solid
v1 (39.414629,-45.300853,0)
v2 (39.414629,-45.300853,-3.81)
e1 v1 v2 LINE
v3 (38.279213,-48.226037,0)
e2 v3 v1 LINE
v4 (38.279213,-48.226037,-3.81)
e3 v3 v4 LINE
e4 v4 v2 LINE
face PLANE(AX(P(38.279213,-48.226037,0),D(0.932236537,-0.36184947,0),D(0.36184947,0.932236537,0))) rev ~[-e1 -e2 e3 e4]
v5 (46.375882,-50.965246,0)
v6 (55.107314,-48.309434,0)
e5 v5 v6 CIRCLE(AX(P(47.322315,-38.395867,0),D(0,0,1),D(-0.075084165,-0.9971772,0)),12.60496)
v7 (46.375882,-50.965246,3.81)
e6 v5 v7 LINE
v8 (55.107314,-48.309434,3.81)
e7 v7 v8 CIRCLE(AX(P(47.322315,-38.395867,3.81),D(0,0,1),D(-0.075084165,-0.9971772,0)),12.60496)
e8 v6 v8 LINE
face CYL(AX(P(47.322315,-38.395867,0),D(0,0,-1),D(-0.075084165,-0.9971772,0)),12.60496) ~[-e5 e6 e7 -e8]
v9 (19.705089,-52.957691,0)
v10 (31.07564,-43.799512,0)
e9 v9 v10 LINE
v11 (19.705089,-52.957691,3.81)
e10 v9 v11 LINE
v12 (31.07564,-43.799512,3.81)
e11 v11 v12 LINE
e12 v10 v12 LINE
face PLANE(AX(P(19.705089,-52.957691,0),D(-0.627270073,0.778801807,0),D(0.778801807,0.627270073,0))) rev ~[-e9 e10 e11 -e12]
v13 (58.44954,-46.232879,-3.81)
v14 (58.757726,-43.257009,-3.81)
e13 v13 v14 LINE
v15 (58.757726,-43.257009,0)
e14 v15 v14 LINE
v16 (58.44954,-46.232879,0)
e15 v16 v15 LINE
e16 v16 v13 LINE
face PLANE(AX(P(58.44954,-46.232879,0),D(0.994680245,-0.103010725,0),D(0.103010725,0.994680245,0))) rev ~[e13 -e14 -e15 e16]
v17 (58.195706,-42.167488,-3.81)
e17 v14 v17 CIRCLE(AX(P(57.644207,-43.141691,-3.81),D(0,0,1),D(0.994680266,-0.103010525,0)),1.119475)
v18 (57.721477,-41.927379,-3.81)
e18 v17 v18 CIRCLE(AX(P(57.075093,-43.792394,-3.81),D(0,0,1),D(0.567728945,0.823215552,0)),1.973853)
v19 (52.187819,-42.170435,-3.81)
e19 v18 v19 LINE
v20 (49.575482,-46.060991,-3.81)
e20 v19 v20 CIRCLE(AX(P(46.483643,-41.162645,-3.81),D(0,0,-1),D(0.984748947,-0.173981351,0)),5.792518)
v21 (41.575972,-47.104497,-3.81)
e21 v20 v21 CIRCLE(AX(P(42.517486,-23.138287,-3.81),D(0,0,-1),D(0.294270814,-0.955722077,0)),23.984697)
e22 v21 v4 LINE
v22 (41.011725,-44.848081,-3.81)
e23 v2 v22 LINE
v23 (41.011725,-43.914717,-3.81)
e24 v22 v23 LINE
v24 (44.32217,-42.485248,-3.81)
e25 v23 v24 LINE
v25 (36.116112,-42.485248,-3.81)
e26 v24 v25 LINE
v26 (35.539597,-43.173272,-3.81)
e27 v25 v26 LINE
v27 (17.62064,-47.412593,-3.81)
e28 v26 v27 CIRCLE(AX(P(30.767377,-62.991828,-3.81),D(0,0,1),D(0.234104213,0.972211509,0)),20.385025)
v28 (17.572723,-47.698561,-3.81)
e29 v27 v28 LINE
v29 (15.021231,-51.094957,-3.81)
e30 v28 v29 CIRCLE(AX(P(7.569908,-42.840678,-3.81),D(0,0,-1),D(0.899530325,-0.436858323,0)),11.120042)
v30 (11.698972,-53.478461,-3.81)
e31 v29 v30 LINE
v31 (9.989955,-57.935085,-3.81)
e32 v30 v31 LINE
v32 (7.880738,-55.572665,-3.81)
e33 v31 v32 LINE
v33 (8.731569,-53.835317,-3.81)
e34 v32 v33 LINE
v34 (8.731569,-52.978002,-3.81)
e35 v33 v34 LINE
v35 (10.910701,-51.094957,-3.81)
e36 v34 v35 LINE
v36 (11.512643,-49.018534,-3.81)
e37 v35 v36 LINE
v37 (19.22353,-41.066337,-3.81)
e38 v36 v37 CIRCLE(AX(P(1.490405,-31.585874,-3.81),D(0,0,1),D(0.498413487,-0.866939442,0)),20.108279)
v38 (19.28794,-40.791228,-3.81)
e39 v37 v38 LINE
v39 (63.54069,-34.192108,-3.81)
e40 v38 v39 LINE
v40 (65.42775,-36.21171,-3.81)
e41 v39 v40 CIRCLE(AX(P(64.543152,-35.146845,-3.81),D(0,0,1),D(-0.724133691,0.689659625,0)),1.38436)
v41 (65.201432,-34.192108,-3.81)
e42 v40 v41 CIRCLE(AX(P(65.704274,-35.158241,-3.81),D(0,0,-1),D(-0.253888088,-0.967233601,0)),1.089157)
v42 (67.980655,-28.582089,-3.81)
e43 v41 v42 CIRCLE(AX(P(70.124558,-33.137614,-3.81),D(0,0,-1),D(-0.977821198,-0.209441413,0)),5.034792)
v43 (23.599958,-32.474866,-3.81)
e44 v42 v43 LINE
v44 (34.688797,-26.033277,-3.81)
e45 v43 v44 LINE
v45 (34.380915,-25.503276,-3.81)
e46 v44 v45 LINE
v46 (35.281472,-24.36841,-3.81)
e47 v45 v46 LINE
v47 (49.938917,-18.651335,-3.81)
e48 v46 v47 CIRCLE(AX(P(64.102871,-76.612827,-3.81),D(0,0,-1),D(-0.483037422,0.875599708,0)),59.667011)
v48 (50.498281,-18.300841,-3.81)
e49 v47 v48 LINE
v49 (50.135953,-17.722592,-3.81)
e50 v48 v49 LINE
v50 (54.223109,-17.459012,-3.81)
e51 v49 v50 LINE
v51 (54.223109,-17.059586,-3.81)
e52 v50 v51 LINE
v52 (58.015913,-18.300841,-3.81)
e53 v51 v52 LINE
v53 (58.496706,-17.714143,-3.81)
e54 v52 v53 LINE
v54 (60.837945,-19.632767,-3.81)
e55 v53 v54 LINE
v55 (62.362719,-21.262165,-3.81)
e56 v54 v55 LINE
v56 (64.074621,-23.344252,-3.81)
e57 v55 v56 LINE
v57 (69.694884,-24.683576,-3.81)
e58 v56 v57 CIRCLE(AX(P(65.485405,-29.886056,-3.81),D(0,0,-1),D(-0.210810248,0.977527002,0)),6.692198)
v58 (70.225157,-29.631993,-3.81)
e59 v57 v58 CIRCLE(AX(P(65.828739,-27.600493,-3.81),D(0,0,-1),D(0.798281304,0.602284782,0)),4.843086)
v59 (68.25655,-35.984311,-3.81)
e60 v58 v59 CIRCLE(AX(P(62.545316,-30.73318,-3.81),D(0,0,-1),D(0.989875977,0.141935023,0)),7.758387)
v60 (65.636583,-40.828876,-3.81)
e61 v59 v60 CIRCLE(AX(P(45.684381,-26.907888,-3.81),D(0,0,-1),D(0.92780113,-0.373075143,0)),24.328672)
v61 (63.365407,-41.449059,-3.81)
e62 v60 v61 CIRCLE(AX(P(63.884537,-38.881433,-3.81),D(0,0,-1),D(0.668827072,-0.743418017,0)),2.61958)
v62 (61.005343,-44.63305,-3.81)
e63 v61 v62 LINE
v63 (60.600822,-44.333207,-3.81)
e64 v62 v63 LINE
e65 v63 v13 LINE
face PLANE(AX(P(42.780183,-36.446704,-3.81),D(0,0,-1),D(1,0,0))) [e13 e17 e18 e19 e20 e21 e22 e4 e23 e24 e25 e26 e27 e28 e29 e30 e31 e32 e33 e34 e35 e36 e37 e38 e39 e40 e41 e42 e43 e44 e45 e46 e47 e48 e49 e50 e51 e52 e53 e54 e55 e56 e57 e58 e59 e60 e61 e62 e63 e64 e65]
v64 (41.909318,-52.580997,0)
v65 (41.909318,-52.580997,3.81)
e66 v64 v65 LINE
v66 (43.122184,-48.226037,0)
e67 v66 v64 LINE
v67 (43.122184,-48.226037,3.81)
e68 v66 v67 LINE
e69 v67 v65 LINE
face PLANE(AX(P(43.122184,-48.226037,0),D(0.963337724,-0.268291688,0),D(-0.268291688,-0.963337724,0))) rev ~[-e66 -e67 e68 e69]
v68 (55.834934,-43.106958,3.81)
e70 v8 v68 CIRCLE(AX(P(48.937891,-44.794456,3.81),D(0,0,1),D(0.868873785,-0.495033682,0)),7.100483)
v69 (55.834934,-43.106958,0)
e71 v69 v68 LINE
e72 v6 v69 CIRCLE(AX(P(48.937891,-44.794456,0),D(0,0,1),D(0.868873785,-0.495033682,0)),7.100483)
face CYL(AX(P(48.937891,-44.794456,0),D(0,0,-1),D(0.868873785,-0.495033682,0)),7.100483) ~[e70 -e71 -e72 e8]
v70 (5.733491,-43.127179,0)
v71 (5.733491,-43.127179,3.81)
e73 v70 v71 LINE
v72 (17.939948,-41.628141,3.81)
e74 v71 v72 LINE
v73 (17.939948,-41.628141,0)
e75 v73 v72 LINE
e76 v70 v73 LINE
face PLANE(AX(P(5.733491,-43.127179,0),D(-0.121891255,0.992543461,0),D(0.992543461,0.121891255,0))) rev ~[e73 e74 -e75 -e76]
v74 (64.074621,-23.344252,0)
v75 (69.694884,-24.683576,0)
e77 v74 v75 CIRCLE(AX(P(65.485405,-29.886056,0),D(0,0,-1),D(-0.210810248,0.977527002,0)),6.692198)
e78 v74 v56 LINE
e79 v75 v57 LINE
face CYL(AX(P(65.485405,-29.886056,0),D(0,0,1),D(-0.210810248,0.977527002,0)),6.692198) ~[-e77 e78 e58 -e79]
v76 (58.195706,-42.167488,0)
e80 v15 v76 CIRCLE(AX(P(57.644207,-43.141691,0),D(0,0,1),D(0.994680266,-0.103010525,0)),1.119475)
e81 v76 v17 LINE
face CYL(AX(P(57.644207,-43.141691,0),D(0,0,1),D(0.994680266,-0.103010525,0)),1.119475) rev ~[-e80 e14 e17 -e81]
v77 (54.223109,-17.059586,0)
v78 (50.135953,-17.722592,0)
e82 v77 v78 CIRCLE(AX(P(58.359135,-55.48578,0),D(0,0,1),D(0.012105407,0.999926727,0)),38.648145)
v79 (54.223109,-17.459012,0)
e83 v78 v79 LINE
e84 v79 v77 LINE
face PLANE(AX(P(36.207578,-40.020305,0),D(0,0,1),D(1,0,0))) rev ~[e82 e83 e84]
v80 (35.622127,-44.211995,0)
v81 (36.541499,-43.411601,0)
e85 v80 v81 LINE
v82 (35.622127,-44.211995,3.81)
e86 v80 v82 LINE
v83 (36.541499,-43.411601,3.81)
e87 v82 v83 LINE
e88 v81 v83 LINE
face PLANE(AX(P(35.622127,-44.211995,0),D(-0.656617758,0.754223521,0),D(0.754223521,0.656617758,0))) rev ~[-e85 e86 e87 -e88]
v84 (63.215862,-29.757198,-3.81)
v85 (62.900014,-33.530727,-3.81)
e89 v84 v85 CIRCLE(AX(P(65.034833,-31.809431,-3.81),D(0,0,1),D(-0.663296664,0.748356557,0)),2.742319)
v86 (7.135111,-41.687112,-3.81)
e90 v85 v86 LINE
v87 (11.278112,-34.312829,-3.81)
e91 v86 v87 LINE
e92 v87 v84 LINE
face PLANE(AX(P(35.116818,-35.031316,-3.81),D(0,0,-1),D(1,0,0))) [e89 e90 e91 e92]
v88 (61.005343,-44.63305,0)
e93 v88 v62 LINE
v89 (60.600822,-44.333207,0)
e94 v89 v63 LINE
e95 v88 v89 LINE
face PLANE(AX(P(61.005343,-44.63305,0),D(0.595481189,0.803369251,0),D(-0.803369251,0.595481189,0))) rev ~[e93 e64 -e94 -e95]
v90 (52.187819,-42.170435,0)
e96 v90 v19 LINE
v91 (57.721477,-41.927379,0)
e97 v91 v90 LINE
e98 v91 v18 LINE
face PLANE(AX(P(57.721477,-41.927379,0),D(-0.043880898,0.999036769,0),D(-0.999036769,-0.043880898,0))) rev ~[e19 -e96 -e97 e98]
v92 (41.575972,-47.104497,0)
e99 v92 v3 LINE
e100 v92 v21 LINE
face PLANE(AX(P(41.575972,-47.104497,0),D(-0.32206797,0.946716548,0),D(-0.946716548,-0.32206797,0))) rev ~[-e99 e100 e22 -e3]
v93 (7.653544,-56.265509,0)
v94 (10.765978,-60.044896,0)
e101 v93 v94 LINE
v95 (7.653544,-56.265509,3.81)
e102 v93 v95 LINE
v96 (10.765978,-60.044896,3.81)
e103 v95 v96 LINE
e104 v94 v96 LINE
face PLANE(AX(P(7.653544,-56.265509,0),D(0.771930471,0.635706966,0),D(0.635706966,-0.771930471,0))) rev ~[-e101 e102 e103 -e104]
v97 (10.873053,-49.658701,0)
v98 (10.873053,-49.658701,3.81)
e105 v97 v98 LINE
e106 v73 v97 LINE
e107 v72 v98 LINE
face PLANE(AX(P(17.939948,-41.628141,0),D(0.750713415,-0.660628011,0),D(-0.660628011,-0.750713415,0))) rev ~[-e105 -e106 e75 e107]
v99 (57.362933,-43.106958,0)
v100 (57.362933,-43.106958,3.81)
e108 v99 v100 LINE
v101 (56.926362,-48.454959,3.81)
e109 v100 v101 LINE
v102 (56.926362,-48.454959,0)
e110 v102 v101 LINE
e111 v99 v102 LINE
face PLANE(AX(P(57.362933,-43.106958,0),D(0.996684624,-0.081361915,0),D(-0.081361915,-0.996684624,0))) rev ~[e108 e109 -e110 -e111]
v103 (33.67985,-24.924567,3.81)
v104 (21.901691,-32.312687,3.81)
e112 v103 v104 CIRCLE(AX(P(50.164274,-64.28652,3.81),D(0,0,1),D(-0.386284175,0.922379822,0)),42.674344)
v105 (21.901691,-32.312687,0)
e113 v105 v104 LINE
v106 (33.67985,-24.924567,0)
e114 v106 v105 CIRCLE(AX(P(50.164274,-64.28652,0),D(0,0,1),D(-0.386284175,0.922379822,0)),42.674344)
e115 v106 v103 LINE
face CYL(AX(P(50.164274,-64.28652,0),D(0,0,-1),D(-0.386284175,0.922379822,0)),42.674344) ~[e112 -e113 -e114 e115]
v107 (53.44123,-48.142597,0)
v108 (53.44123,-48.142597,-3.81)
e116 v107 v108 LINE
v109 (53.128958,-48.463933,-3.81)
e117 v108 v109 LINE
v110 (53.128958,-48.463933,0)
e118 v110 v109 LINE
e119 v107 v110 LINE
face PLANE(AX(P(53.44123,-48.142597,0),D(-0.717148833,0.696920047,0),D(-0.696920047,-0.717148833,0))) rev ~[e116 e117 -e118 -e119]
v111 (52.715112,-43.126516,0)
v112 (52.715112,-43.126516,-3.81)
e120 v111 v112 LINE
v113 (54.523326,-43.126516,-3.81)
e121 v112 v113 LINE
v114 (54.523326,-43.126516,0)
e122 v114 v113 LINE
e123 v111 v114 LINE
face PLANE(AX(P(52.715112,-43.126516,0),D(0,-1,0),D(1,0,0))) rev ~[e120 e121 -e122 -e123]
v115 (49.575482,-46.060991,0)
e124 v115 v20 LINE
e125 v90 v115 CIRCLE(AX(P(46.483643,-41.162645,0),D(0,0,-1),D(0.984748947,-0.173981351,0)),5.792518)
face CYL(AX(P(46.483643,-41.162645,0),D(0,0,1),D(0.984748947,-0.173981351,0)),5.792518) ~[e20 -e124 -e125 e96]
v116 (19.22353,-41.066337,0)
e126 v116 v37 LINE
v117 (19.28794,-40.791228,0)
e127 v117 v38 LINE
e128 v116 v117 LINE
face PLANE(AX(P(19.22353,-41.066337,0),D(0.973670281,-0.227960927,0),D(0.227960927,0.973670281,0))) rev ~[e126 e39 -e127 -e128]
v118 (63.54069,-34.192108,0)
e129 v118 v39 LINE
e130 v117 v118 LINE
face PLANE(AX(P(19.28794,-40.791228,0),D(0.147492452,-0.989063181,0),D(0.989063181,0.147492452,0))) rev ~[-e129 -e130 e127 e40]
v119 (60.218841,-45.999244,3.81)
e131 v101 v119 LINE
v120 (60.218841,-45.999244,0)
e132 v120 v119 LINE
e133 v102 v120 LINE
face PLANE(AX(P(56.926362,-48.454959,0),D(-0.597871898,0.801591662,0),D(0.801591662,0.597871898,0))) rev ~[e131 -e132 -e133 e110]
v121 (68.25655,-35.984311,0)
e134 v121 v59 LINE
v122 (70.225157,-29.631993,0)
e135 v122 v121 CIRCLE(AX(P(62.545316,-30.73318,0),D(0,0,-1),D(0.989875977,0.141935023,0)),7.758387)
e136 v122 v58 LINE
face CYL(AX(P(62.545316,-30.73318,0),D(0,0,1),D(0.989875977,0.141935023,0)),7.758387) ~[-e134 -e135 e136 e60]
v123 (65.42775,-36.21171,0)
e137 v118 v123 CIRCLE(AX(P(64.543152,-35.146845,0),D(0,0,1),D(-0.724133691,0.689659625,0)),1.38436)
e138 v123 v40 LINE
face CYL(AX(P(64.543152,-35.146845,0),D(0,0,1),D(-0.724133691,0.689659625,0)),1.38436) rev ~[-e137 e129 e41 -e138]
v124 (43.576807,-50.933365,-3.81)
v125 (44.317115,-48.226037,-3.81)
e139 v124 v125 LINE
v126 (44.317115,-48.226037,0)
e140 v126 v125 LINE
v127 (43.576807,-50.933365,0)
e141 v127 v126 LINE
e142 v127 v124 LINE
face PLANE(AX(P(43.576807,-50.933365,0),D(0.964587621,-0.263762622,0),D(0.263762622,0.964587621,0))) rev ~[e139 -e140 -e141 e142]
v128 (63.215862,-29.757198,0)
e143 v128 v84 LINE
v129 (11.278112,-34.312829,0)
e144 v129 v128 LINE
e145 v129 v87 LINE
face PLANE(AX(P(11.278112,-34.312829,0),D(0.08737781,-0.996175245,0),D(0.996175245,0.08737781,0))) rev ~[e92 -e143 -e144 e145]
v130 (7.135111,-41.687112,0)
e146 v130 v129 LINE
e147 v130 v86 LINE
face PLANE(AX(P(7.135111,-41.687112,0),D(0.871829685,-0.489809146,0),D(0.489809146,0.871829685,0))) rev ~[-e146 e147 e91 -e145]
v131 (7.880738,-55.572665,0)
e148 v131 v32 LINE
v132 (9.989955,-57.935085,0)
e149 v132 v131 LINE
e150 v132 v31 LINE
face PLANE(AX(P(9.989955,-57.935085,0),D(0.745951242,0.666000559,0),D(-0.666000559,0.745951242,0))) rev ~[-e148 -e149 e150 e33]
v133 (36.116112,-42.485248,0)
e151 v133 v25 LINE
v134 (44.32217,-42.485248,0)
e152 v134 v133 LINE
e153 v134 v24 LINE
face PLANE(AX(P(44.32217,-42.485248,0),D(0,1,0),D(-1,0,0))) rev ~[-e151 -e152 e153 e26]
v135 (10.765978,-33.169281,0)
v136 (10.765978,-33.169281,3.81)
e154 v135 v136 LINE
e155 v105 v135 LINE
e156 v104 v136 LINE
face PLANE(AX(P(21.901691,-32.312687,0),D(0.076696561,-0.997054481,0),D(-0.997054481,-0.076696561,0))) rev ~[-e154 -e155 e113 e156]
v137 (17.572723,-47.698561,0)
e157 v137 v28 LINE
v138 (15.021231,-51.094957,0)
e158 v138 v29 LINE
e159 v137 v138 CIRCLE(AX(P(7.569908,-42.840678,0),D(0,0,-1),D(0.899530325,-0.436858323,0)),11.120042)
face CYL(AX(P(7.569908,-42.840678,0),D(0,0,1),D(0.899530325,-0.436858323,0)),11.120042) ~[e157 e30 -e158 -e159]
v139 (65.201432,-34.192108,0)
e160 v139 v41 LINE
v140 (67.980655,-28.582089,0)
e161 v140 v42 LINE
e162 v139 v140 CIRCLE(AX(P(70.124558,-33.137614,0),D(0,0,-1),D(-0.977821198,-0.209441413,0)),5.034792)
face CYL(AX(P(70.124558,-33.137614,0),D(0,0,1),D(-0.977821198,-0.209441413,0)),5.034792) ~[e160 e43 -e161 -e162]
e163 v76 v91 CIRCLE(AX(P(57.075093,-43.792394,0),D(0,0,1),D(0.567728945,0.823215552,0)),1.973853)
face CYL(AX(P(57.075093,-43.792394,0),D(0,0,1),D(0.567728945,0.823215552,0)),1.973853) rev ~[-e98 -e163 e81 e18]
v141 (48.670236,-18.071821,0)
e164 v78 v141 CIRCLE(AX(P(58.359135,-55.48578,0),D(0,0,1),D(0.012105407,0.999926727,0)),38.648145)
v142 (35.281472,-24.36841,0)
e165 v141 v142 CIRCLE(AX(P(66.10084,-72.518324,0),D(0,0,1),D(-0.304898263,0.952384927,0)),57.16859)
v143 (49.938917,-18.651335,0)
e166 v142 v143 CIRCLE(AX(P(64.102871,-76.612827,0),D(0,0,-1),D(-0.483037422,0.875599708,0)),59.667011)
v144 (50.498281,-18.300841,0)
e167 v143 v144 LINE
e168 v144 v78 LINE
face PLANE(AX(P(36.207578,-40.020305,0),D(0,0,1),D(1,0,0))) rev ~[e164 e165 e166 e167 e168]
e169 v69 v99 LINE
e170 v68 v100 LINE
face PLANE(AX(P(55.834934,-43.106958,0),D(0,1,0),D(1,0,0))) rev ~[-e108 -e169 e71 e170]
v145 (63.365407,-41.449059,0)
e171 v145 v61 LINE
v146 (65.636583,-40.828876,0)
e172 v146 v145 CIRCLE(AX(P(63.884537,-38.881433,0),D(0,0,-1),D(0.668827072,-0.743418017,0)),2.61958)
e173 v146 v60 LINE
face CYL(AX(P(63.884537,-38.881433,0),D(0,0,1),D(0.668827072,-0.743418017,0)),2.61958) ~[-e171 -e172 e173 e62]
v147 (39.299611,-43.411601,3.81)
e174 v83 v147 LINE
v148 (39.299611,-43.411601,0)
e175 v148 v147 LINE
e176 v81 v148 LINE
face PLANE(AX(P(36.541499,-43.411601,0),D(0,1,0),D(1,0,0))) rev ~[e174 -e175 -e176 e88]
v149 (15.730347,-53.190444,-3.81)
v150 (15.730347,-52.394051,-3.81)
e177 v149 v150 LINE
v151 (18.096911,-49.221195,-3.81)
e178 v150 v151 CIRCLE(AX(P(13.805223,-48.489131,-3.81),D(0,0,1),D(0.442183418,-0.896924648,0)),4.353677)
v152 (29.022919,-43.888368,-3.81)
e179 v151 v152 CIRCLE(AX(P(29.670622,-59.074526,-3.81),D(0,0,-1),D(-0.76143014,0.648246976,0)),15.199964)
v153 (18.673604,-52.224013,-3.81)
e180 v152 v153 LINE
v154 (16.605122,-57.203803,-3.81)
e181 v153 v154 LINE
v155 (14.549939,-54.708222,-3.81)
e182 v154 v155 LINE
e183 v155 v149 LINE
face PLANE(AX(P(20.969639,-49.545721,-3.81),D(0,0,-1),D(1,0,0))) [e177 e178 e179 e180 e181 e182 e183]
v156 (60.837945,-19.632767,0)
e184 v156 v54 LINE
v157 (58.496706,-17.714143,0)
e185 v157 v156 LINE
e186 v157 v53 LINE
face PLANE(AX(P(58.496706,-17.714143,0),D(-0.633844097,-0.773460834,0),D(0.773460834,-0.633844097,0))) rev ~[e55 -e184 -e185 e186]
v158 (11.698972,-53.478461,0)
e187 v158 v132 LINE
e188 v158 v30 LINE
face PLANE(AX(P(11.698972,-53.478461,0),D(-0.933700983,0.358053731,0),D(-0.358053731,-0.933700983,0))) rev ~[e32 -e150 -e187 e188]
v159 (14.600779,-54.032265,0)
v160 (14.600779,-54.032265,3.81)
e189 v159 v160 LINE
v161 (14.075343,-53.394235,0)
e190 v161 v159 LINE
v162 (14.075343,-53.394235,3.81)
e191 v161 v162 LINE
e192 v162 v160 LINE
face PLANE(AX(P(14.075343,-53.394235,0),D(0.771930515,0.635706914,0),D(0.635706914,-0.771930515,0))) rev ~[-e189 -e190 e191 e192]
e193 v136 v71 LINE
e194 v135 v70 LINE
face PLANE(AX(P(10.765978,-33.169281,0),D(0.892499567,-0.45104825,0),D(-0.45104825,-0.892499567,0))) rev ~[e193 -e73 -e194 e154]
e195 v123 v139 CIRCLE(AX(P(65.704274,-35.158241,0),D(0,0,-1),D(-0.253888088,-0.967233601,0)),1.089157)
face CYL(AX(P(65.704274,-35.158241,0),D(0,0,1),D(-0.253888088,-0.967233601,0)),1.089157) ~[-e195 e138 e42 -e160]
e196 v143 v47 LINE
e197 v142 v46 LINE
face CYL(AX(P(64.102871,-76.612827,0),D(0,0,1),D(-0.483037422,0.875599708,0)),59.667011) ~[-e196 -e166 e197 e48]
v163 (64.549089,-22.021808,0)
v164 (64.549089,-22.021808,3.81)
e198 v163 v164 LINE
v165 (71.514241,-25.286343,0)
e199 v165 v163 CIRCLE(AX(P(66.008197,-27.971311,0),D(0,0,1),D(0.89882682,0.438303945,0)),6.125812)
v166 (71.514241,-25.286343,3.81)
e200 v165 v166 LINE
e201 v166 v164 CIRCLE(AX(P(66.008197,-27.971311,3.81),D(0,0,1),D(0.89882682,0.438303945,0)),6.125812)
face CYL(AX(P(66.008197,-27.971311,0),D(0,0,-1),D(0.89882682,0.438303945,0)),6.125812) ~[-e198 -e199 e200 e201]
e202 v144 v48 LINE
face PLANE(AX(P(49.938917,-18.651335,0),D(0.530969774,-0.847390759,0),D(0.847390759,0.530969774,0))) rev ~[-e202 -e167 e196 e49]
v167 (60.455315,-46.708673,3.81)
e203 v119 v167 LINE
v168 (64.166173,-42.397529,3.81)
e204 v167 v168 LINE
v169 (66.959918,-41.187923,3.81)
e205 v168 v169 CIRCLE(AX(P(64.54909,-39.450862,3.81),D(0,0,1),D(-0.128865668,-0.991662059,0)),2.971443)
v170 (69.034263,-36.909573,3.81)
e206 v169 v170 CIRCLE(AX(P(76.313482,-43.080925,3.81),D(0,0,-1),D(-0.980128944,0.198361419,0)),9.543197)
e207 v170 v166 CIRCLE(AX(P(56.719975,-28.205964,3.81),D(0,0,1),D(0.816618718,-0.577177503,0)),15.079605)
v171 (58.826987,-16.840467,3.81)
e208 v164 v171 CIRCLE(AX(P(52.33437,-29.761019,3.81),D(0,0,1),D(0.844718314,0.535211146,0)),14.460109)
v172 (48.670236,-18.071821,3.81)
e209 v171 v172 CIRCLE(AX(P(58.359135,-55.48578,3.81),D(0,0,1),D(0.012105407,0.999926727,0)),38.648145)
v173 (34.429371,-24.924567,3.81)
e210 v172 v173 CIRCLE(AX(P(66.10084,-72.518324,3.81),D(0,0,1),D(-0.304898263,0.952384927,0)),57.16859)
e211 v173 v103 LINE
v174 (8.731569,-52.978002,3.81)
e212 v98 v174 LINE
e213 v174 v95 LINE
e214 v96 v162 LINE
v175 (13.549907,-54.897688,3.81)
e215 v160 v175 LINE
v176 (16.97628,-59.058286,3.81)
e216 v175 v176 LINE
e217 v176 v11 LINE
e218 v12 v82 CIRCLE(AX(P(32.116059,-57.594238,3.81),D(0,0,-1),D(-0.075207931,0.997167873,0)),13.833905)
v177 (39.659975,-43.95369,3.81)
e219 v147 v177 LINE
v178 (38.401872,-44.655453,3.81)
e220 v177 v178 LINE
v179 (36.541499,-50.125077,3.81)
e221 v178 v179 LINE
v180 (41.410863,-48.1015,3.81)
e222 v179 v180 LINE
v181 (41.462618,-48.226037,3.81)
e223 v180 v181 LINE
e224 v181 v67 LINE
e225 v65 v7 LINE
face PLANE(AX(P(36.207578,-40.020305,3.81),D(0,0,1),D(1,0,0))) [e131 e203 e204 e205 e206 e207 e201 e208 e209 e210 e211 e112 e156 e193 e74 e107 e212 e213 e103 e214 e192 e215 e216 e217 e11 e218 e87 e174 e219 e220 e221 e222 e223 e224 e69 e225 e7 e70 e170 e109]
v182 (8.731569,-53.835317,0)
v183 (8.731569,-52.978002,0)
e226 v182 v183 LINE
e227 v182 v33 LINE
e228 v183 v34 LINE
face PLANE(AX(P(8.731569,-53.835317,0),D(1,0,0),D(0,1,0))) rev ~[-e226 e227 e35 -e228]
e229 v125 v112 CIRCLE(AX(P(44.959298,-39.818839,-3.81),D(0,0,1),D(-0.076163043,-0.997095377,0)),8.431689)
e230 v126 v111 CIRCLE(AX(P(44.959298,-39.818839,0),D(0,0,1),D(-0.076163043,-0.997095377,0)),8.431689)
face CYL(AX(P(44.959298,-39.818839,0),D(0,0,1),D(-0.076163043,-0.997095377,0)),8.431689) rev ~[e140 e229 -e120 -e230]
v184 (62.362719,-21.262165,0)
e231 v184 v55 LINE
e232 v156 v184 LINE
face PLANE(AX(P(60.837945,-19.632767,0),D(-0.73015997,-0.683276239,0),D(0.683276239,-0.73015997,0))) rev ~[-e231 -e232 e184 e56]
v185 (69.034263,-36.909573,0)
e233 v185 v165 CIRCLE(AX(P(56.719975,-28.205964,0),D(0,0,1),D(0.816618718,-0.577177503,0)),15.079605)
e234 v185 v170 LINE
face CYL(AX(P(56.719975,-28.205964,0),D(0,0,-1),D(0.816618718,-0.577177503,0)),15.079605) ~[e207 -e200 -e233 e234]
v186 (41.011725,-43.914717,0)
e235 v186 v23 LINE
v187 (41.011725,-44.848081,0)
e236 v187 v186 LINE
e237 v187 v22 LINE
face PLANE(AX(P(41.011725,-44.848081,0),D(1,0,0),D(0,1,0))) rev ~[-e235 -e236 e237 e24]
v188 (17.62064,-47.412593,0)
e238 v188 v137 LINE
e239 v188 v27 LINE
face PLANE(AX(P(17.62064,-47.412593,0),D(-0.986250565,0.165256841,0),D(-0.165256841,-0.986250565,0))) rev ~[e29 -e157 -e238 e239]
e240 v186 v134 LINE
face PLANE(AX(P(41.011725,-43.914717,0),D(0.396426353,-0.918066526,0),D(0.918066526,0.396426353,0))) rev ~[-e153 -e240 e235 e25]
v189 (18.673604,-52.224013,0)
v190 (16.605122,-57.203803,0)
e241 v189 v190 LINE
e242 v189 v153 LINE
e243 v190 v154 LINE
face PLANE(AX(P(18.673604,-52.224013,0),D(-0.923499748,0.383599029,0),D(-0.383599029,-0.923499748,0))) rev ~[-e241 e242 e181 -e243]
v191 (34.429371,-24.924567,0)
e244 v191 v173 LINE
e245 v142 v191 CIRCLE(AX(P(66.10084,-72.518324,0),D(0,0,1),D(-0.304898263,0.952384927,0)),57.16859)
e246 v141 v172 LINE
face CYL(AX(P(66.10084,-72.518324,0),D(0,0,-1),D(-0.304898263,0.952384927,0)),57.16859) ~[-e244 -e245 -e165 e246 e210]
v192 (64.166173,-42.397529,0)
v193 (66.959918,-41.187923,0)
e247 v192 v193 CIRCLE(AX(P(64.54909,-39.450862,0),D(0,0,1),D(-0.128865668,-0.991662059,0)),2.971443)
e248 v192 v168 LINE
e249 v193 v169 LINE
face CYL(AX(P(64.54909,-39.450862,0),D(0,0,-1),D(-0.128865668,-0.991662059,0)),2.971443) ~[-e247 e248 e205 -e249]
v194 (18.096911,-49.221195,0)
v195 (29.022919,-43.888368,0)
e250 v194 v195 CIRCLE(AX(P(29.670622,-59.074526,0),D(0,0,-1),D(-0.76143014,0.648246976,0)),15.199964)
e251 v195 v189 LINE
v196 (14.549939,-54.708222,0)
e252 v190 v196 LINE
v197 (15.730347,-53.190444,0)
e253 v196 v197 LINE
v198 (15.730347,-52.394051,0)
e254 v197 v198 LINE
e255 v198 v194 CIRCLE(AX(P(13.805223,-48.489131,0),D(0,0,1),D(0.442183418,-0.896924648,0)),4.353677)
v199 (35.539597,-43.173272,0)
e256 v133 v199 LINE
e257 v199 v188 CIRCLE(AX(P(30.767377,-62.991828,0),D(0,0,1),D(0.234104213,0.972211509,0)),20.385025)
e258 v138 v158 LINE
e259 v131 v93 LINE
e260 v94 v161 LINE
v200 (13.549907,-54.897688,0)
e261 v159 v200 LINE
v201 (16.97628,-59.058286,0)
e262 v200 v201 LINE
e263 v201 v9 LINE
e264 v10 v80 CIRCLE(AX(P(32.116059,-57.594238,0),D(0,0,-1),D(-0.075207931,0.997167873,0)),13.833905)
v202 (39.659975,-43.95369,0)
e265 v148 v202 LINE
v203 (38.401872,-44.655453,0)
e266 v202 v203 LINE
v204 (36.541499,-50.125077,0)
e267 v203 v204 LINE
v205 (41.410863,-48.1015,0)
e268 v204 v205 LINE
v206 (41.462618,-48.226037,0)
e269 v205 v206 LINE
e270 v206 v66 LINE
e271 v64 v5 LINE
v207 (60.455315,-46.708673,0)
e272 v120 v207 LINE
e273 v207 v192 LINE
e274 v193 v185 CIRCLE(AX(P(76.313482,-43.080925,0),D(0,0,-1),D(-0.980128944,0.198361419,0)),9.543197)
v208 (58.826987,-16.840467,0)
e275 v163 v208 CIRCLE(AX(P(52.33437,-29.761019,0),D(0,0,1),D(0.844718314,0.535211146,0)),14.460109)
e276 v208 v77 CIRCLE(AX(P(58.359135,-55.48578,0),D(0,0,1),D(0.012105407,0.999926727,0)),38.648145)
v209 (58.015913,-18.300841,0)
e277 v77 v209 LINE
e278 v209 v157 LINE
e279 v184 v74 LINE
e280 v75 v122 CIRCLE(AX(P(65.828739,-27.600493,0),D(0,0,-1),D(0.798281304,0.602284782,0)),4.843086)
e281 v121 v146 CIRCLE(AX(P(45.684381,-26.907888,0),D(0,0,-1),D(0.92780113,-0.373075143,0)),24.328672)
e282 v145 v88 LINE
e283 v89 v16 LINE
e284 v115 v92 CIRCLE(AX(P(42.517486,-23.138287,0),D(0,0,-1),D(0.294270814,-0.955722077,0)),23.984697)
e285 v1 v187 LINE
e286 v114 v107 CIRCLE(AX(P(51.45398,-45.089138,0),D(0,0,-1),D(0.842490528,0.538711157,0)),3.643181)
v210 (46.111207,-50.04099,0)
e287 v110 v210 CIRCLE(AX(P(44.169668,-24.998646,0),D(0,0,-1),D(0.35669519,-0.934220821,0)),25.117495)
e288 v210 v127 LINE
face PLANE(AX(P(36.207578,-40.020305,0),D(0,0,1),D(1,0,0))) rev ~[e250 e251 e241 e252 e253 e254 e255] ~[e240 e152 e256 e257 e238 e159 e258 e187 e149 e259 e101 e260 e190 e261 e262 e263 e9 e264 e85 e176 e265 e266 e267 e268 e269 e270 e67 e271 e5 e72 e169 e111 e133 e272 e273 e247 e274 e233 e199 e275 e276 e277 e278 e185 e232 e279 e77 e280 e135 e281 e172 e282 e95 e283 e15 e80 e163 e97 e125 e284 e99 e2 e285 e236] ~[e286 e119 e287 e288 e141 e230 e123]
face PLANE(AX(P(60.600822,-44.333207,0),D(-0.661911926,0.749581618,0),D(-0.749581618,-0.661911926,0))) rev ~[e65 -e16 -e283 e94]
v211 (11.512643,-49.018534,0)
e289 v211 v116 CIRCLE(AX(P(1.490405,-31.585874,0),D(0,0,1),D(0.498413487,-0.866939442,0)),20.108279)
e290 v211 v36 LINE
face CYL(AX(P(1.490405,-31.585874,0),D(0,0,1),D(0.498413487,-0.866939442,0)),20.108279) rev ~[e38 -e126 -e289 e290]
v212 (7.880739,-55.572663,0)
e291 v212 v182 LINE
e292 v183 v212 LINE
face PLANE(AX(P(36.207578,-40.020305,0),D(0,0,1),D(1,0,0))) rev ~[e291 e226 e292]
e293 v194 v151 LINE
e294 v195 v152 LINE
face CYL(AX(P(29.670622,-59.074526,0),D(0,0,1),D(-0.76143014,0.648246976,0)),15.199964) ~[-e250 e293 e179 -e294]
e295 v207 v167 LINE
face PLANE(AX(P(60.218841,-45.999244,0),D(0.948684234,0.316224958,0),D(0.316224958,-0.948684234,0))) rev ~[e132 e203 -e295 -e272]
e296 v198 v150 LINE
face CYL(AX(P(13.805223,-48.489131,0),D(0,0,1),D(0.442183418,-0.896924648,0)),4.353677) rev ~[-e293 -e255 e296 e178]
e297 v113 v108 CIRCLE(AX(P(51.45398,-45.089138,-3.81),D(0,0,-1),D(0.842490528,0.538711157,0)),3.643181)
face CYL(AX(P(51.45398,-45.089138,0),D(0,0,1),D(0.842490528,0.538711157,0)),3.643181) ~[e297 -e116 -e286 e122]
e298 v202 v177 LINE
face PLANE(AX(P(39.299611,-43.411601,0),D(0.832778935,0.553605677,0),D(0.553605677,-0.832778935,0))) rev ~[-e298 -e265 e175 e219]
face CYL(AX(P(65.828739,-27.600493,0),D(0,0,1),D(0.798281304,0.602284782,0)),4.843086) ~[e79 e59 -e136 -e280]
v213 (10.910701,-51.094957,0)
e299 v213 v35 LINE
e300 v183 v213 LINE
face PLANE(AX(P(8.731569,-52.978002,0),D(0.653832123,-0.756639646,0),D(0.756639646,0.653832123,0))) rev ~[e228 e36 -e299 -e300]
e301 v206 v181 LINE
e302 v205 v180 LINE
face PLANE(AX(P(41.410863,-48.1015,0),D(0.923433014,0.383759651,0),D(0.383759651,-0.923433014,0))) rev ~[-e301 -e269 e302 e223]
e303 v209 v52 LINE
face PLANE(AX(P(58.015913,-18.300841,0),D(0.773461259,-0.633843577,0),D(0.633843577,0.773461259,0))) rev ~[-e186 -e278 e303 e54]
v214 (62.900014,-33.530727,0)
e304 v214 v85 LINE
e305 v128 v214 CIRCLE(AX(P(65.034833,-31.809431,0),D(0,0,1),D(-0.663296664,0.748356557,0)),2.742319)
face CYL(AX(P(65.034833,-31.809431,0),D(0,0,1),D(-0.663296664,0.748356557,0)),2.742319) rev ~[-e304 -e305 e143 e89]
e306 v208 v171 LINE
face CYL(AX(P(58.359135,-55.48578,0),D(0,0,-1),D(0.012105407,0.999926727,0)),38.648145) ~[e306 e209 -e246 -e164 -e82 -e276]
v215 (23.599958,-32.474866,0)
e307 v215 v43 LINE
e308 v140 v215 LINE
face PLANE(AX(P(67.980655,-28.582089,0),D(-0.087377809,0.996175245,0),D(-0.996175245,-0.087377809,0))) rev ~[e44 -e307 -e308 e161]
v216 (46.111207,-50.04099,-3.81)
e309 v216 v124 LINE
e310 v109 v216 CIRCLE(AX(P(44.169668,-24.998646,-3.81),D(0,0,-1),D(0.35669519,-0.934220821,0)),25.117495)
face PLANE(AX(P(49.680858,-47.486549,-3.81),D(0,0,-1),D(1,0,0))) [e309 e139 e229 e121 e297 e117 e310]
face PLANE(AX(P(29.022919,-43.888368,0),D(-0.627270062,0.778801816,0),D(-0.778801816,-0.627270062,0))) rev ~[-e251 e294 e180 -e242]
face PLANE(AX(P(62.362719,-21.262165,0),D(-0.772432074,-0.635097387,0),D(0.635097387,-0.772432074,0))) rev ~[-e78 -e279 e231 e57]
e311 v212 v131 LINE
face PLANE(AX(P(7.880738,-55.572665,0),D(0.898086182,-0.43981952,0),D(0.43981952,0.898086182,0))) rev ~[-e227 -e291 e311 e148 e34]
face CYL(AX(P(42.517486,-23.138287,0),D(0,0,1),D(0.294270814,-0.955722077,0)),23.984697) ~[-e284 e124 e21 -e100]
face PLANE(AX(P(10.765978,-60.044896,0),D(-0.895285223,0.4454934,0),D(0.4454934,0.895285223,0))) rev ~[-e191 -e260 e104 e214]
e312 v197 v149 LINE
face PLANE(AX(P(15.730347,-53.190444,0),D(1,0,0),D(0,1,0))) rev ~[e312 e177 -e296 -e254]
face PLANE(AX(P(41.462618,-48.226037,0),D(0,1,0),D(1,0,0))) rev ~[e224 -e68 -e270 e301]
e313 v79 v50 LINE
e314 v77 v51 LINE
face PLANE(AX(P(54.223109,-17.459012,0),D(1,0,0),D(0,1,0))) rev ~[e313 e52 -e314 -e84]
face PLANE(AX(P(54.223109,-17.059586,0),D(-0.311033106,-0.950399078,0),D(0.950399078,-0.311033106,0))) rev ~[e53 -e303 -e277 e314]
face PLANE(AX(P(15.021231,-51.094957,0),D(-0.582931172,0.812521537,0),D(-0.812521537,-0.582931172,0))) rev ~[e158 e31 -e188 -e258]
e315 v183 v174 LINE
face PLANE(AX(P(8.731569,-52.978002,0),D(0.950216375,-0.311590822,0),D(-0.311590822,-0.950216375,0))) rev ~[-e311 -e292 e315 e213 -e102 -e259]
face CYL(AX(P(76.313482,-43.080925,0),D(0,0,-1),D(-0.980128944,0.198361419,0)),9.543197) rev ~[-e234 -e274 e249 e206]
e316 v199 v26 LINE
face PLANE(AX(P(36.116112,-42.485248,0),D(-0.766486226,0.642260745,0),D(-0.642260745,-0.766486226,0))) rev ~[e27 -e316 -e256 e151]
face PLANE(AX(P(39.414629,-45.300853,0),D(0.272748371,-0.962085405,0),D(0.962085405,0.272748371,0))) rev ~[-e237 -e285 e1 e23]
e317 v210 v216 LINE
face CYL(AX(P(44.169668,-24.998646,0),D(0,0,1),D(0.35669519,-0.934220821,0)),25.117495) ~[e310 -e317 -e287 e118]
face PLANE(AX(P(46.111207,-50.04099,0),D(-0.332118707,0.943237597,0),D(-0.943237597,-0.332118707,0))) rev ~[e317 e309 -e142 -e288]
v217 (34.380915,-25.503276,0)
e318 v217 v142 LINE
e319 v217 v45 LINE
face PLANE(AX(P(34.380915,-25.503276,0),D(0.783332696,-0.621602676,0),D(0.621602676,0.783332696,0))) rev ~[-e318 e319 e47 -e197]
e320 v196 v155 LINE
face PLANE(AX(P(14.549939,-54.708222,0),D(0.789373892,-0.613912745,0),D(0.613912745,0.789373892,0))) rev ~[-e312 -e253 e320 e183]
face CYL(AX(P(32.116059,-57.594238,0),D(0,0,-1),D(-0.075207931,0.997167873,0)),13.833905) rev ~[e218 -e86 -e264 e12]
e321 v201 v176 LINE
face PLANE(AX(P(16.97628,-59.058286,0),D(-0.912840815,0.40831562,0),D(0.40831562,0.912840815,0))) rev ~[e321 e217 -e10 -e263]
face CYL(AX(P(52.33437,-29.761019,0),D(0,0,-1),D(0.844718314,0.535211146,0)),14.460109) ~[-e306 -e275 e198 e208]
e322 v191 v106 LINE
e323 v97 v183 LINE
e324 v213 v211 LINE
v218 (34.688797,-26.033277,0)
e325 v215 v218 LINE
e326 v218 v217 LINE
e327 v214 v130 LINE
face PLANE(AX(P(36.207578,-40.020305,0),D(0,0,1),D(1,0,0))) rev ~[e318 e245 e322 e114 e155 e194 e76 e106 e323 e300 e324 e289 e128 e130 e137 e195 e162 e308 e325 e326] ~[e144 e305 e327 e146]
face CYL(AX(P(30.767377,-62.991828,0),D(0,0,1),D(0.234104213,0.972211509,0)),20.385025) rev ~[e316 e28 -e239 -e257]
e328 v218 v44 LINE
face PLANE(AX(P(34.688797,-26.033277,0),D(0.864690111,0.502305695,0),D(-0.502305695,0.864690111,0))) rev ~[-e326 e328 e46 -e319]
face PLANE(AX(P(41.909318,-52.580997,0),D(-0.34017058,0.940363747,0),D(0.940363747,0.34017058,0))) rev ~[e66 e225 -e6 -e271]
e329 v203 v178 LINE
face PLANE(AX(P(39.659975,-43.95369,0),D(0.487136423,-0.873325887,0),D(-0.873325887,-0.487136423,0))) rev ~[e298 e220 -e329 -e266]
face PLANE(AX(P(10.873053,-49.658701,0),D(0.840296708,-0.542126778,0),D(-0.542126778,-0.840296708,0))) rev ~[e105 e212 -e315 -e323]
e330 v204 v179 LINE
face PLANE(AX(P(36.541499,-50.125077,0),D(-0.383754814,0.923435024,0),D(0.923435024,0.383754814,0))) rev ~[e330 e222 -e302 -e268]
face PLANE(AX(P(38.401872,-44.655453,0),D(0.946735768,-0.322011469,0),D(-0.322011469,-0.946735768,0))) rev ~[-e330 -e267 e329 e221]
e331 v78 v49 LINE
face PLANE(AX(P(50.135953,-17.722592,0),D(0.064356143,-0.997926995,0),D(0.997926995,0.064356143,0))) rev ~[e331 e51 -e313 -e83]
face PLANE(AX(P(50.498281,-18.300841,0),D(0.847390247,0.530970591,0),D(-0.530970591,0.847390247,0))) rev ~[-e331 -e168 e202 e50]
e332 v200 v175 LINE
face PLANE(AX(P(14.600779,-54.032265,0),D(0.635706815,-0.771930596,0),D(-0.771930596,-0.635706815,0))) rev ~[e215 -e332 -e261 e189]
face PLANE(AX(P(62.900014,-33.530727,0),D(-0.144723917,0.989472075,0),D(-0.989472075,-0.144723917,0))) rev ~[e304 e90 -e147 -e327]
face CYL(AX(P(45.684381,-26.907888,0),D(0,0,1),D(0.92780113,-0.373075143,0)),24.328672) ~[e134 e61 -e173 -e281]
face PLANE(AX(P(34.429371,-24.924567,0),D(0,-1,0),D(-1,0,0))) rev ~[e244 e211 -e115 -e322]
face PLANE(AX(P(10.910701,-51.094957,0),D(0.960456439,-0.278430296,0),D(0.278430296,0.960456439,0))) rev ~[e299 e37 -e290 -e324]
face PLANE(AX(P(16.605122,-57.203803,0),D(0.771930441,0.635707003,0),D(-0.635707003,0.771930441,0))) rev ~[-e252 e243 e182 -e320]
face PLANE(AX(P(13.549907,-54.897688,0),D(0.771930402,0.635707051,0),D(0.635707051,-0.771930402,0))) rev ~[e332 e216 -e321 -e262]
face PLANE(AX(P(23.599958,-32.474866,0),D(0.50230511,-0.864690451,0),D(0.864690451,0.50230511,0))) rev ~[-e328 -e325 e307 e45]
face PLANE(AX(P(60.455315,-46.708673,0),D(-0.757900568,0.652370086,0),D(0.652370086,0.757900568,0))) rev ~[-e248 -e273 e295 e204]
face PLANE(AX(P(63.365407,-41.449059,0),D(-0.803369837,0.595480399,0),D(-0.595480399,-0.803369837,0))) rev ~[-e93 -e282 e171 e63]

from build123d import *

# Parameters (mm, degrees)
F1_DEPTH = 3.81
F3_DEPTH = 3.81
F5_DEPTH = 3.81


with BuildPart() as f1:
    # F0 (on Top) → F1 (new body)
    with BuildSketch(Plane.XY):
        with BuildLine():
            Line((16.97628, -59.058286), (19.705089, -52.957691))
            Line((19.705089, -52.957691), (31.07564, -43.799512))
            ThreePointArc((31.07564, -43.799512), (33.366016, -43.816918), (35.622127, -44.211995))
            Line((35.622127, -44.211995), (36.541499, -43.411601))
            Line((36.541499, -43.411601), (39.299611, -43.411601))
            Line((39.299611, -43.411601), (39.659975, -43.95369))
            Line((39.659975, -43.95369), (38.401872, -44.655453))
            Line((38.401872, -44.655453), (36.541499, -50.125077))
            Line((36.541499, -50.125077), (41.410863, -48.1015))
            Line((41.410863, -48.1015), (41.462618, -48.226037))
            Line((41.462618, -48.226037), (43.122184, -48.226037))
            Line((43.122184, -48.226037), (41.909318, -52.580997))
            Line((41.909318, -52.580997), (46.375882, -50.965246))
            ThreePointArc((46.375882, -50.965246), (50.990398, -50.455311), (55.107314, -48.309434))
            ThreePointArc((55.107314, -48.309434), (55.96993, -45.777959), (55.834934, -43.106958))
            Line((55.834934, -43.106958), (57.362933, -43.106958))
            Line((57.362933, -43.106958), (56.926362, -48.454959))
            Line((56.926362, -48.454959), (60.218841, -45.999244))
            Line((60.218841, -45.999244), (60.455315, -46.708673))
            Line((60.455315, -46.708673), (64.166173, -42.397529))
            ThreePointArc((64.166173, -42.397529), (65.729722, -42.177688), (66.959918, -41.187923))
            ThreePointArc((66.959918, -41.187923), (67.726373, -38.917492), (69.034263, -36.909573))
            ThreePointArc((69.034263, -36.909573), (71.467629, -31.352581), (71.514241, -25.286343))
            ThreePointArc((71.514241, -25.286343), (68.607951, -22.424523), (64.549089, -22.021808))
            ThreePointArc((64.549089, -22.021808), (62.040176, -19.042247), (58.826987, -16.840467))
            ThreePointArc((58.826987, -16.840467), (53.707685, -17.118566), (48.670236, -18.071821))
            ThreePointArc((48.670236, -18.071821), (41.311862, -21.003722), (34.429371, -24.924567))
            Line((34.429371, -24.924567), (33.67985, -24.924567))
            ThreePointArc((33.67985, -24.924567), (27.48786, -28.135727), (21.901691, -32.312687))
            Line((21.901691, -32.312687), (10.765978, -33.169281))
            Line((10.765978, -33.169281), (5.733491, -43.127179))
            Line((5.733491, -43.127179), (17.939948, -41.628141))
            Line((17.939948, -41.628141), (10.873053, -49.658701))
            Line((10.873053, -49.658701), (8.731569, -52.978002))
            Line((8.731569, -52.978002), (7.653544, -56.265509))
            Line((7.653544, -56.265509), (10.765978, -60.044896))
            Line((10.765978, -60.044896), (14.075343, -53.394235))
            Line((14.075343, -53.394235), (14.600779, -54.032265))
            Line((14.600779, -54.032265), (13.549907, -54.897688))
            Line((13.549907, -54.897688), (16.97628, -59.058286))
        make_face()
    extrude(amount=F1_DEPTH)

    # F2 (on face) → F3 (join)
    with BuildSketch(Plane(origin=(0, 0, 0), x_dir=(1, 0, 0), z_dir=(0, 0, -1))):
        with BuildLine():
            Line((62.362719, 21.262165), (64.074621, 23.344252))
            ThreePointArc((64.074621, 23.344252), (67.036734, 23.376149), (69.694884, 24.683576))
            ThreePointArc((69.694884, 24.683576), (70.644255, 27.084462), (70.225157, 29.631993))
            ThreePointArc((70.225157, 29.631993), (69.955998, 33.029778), (68.25655, 35.984311))
            ThreePointArc((68.25655, 35.984311), (67.0841, 38.480973), (65.636583, 40.828876))
            ThreePointArc((65.636583, 40.828876), (64.574593, 41.408491), (63.365407, 41.449059))
            Line((63.365407, 41.449059), (61.005343, 44.63305))
            Line((61.005343, 44.63305), (60.600822, 44.333207))
            Line((60.600822, 44.333207), (58.44954, 46.232879))
            Line((58.44954, 46.232879), (58.757726, 43.257009))
            ThreePointArc((58.757726, 43.257009), (58.639112, 42.628479), (58.195706, 42.167488))
            ThreePointArc((58.195706, 42.167488), (57.966711, 42.031397), (57.721477, 41.927379))
            Line((57.721477, 41.927379), (52.187819, 42.170435))
            ThreePointArc((52.187819, 42.170435), (51.292653, 44.391683), (49.575482, 46.060991))
            ThreePointArc((49.575482, 46.060991), (45.619915, 46.921487), (41.575972, 47.104497))
            Line((41.575972, 47.104497), (38.279213, 48.226037))
            Line((38.279213, 48.226037), (39.414629, 45.300853))
            Line((39.414629, 45.300853), (41.011725, 44.848081))
            Line((41.011725, 44.848081), (41.011725, 43.914717))
            Line((41.011725, 43.914717), (44.32217, 42.485248))
            Line((44.32217, 42.485248), (36.116112, 42.485248))
            Line((36.116112, 42.485248), (35.539597, 43.173272))
            ThreePointArc((35.539597, 43.173272), (26.07418, 43.15441), (17.62064, 47.412593))
            Line((17.62064, 47.412593), (17.572723, 47.698561))
            ThreePointArc((17.572723, 47.698561), (16.460668, 49.519729), (15.021231, 51.094957))
            Line((15.021231, 51.094957), (11.698972, 53.478461))
            Line((11.698972, 53.478461), (9.989955, 57.935085))
            Line((9.989955, 57.935085), (7.880738, 55.572665))
            Line((7.880738, 55.572665), (8.731569, 53.835317))
            Line((8.731569, 53.835317), (8.731569, 52.978002))
            Line((8.731569, 52.978002), (10.910701, 51.094957))
            Line((10.910701, 51.094957), (11.512643, 49.018534))
            ThreePointArc((11.512643, 49.018534), (15.92645, 45.583856), (19.22353, 41.066337))
            Line((19.22353, 41.066337), (19.28794, 40.791228))
            Line((19.28794, 40.791228), (63.54069, 34.192108))
            ThreePointArc((63.54069, 34.192108), (63.531632, 36.09198), (65.42775, 36.21171))
            ThreePointArc((65.42775, 36.21171), (64.621892, 35.279534), (65.201432, 34.192108))
            ThreePointArc((65.201432, 34.192108), (65.613039, 30.902592), (67.980655, 28.582089))
            Line((67.980655, 28.582089), (23.599958, 32.474866))
            Line((23.599958, 32.474866), (34.688797, 26.033277))
            Line((34.688797, 26.033277), (34.380915, 25.503276))
            Line((34.380915, 25.503276), (35.281472, 24.36841))
            ThreePointArc((35.281472, 24.36841), (42.420934, 21.024647), (49.938917, 18.651335))
            Line((49.938917, 18.651335), (50.498281, 18.300841))
            Line((50.498281, 18.300841), (50.135953, 17.722592))
            Line((50.135953, 17.722592), (54.223109, 17.459012))
            Line((54.223109, 17.459012), (54.223109, 17.059586))
            Line((54.223109, 17.059586), (58.015913, 18.300841))
            Line((58.015913, 18.300841), (58.496706, 17.714143))
            Line((58.496706, 17.714143), (60.837945, 19.632767))
            Line((60.837945, 19.632767), (62.362719, 21.262165))
        make_face()
        with BuildLine():
            Line((52.715112, 43.126516), (54.523326, 43.126516))
            ThreePointArc((54.523326, 43.126516), (55.015238, 45.857392), (53.44123, 48.142597))
            Line((53.44123, 48.142597), (53.128958, 48.463933))
            ThreePointArc((53.128958, 48.463933), (49.676827, 49.504967), (46.111207, 50.04099))
            Line((46.111207, 50.04099), (43.576807, 50.933365))
            Line((43.576807, 50.933365), (44.317115, 48.226037))
            ThreePointArc((44.317115, 48.226037), (49.335622, 47.025861), (52.715112, 43.126516))
        make_face()
        with BuildLine():
            Line((18.673604, 52.224013), (16.605122, 57.203803))
            Line((16.605122, 57.203803), (14.549939, 54.708222))
            Line((14.549939, 54.708222), (15.730347, 53.190444))
            Line((15.730347, 53.190444), (15.730347, 52.394051))
            ThreePointArc((15.730347, 52.394051), (17.295057, 51.092122), (18.096911, 49.221195))
            ThreePointArc((18.096911, 49.221195), (23.003501, 45.414789), (29.022919, 43.888368))
            Line((29.022919, 43.888368), (18.673604, 52.224013))
        make_face()
    extrude(amount=F3_DEPTH)

    # F4 (on face) → F5 (join)
    with BuildSketch(Plane(origin=(0, 0, 0), x_dir=(1, 0, 0), z_dir=(0, 0, -1))):
        with BuildLine():
            ThreePointArc((63.215862, 29.757198), (62.30207, 31.580695), (62.900014, 33.530727))
            Line((62.900014, 33.530727), (7.135111, 41.687112))
            Line((7.135111, 41.687112), (11.278112, 34.312829))
            Line((11.278112, 34.312829), (63.215862, 29.757198))
        make_face()
    extrude(amount=F5_DEPTH)


solid = f1.part
